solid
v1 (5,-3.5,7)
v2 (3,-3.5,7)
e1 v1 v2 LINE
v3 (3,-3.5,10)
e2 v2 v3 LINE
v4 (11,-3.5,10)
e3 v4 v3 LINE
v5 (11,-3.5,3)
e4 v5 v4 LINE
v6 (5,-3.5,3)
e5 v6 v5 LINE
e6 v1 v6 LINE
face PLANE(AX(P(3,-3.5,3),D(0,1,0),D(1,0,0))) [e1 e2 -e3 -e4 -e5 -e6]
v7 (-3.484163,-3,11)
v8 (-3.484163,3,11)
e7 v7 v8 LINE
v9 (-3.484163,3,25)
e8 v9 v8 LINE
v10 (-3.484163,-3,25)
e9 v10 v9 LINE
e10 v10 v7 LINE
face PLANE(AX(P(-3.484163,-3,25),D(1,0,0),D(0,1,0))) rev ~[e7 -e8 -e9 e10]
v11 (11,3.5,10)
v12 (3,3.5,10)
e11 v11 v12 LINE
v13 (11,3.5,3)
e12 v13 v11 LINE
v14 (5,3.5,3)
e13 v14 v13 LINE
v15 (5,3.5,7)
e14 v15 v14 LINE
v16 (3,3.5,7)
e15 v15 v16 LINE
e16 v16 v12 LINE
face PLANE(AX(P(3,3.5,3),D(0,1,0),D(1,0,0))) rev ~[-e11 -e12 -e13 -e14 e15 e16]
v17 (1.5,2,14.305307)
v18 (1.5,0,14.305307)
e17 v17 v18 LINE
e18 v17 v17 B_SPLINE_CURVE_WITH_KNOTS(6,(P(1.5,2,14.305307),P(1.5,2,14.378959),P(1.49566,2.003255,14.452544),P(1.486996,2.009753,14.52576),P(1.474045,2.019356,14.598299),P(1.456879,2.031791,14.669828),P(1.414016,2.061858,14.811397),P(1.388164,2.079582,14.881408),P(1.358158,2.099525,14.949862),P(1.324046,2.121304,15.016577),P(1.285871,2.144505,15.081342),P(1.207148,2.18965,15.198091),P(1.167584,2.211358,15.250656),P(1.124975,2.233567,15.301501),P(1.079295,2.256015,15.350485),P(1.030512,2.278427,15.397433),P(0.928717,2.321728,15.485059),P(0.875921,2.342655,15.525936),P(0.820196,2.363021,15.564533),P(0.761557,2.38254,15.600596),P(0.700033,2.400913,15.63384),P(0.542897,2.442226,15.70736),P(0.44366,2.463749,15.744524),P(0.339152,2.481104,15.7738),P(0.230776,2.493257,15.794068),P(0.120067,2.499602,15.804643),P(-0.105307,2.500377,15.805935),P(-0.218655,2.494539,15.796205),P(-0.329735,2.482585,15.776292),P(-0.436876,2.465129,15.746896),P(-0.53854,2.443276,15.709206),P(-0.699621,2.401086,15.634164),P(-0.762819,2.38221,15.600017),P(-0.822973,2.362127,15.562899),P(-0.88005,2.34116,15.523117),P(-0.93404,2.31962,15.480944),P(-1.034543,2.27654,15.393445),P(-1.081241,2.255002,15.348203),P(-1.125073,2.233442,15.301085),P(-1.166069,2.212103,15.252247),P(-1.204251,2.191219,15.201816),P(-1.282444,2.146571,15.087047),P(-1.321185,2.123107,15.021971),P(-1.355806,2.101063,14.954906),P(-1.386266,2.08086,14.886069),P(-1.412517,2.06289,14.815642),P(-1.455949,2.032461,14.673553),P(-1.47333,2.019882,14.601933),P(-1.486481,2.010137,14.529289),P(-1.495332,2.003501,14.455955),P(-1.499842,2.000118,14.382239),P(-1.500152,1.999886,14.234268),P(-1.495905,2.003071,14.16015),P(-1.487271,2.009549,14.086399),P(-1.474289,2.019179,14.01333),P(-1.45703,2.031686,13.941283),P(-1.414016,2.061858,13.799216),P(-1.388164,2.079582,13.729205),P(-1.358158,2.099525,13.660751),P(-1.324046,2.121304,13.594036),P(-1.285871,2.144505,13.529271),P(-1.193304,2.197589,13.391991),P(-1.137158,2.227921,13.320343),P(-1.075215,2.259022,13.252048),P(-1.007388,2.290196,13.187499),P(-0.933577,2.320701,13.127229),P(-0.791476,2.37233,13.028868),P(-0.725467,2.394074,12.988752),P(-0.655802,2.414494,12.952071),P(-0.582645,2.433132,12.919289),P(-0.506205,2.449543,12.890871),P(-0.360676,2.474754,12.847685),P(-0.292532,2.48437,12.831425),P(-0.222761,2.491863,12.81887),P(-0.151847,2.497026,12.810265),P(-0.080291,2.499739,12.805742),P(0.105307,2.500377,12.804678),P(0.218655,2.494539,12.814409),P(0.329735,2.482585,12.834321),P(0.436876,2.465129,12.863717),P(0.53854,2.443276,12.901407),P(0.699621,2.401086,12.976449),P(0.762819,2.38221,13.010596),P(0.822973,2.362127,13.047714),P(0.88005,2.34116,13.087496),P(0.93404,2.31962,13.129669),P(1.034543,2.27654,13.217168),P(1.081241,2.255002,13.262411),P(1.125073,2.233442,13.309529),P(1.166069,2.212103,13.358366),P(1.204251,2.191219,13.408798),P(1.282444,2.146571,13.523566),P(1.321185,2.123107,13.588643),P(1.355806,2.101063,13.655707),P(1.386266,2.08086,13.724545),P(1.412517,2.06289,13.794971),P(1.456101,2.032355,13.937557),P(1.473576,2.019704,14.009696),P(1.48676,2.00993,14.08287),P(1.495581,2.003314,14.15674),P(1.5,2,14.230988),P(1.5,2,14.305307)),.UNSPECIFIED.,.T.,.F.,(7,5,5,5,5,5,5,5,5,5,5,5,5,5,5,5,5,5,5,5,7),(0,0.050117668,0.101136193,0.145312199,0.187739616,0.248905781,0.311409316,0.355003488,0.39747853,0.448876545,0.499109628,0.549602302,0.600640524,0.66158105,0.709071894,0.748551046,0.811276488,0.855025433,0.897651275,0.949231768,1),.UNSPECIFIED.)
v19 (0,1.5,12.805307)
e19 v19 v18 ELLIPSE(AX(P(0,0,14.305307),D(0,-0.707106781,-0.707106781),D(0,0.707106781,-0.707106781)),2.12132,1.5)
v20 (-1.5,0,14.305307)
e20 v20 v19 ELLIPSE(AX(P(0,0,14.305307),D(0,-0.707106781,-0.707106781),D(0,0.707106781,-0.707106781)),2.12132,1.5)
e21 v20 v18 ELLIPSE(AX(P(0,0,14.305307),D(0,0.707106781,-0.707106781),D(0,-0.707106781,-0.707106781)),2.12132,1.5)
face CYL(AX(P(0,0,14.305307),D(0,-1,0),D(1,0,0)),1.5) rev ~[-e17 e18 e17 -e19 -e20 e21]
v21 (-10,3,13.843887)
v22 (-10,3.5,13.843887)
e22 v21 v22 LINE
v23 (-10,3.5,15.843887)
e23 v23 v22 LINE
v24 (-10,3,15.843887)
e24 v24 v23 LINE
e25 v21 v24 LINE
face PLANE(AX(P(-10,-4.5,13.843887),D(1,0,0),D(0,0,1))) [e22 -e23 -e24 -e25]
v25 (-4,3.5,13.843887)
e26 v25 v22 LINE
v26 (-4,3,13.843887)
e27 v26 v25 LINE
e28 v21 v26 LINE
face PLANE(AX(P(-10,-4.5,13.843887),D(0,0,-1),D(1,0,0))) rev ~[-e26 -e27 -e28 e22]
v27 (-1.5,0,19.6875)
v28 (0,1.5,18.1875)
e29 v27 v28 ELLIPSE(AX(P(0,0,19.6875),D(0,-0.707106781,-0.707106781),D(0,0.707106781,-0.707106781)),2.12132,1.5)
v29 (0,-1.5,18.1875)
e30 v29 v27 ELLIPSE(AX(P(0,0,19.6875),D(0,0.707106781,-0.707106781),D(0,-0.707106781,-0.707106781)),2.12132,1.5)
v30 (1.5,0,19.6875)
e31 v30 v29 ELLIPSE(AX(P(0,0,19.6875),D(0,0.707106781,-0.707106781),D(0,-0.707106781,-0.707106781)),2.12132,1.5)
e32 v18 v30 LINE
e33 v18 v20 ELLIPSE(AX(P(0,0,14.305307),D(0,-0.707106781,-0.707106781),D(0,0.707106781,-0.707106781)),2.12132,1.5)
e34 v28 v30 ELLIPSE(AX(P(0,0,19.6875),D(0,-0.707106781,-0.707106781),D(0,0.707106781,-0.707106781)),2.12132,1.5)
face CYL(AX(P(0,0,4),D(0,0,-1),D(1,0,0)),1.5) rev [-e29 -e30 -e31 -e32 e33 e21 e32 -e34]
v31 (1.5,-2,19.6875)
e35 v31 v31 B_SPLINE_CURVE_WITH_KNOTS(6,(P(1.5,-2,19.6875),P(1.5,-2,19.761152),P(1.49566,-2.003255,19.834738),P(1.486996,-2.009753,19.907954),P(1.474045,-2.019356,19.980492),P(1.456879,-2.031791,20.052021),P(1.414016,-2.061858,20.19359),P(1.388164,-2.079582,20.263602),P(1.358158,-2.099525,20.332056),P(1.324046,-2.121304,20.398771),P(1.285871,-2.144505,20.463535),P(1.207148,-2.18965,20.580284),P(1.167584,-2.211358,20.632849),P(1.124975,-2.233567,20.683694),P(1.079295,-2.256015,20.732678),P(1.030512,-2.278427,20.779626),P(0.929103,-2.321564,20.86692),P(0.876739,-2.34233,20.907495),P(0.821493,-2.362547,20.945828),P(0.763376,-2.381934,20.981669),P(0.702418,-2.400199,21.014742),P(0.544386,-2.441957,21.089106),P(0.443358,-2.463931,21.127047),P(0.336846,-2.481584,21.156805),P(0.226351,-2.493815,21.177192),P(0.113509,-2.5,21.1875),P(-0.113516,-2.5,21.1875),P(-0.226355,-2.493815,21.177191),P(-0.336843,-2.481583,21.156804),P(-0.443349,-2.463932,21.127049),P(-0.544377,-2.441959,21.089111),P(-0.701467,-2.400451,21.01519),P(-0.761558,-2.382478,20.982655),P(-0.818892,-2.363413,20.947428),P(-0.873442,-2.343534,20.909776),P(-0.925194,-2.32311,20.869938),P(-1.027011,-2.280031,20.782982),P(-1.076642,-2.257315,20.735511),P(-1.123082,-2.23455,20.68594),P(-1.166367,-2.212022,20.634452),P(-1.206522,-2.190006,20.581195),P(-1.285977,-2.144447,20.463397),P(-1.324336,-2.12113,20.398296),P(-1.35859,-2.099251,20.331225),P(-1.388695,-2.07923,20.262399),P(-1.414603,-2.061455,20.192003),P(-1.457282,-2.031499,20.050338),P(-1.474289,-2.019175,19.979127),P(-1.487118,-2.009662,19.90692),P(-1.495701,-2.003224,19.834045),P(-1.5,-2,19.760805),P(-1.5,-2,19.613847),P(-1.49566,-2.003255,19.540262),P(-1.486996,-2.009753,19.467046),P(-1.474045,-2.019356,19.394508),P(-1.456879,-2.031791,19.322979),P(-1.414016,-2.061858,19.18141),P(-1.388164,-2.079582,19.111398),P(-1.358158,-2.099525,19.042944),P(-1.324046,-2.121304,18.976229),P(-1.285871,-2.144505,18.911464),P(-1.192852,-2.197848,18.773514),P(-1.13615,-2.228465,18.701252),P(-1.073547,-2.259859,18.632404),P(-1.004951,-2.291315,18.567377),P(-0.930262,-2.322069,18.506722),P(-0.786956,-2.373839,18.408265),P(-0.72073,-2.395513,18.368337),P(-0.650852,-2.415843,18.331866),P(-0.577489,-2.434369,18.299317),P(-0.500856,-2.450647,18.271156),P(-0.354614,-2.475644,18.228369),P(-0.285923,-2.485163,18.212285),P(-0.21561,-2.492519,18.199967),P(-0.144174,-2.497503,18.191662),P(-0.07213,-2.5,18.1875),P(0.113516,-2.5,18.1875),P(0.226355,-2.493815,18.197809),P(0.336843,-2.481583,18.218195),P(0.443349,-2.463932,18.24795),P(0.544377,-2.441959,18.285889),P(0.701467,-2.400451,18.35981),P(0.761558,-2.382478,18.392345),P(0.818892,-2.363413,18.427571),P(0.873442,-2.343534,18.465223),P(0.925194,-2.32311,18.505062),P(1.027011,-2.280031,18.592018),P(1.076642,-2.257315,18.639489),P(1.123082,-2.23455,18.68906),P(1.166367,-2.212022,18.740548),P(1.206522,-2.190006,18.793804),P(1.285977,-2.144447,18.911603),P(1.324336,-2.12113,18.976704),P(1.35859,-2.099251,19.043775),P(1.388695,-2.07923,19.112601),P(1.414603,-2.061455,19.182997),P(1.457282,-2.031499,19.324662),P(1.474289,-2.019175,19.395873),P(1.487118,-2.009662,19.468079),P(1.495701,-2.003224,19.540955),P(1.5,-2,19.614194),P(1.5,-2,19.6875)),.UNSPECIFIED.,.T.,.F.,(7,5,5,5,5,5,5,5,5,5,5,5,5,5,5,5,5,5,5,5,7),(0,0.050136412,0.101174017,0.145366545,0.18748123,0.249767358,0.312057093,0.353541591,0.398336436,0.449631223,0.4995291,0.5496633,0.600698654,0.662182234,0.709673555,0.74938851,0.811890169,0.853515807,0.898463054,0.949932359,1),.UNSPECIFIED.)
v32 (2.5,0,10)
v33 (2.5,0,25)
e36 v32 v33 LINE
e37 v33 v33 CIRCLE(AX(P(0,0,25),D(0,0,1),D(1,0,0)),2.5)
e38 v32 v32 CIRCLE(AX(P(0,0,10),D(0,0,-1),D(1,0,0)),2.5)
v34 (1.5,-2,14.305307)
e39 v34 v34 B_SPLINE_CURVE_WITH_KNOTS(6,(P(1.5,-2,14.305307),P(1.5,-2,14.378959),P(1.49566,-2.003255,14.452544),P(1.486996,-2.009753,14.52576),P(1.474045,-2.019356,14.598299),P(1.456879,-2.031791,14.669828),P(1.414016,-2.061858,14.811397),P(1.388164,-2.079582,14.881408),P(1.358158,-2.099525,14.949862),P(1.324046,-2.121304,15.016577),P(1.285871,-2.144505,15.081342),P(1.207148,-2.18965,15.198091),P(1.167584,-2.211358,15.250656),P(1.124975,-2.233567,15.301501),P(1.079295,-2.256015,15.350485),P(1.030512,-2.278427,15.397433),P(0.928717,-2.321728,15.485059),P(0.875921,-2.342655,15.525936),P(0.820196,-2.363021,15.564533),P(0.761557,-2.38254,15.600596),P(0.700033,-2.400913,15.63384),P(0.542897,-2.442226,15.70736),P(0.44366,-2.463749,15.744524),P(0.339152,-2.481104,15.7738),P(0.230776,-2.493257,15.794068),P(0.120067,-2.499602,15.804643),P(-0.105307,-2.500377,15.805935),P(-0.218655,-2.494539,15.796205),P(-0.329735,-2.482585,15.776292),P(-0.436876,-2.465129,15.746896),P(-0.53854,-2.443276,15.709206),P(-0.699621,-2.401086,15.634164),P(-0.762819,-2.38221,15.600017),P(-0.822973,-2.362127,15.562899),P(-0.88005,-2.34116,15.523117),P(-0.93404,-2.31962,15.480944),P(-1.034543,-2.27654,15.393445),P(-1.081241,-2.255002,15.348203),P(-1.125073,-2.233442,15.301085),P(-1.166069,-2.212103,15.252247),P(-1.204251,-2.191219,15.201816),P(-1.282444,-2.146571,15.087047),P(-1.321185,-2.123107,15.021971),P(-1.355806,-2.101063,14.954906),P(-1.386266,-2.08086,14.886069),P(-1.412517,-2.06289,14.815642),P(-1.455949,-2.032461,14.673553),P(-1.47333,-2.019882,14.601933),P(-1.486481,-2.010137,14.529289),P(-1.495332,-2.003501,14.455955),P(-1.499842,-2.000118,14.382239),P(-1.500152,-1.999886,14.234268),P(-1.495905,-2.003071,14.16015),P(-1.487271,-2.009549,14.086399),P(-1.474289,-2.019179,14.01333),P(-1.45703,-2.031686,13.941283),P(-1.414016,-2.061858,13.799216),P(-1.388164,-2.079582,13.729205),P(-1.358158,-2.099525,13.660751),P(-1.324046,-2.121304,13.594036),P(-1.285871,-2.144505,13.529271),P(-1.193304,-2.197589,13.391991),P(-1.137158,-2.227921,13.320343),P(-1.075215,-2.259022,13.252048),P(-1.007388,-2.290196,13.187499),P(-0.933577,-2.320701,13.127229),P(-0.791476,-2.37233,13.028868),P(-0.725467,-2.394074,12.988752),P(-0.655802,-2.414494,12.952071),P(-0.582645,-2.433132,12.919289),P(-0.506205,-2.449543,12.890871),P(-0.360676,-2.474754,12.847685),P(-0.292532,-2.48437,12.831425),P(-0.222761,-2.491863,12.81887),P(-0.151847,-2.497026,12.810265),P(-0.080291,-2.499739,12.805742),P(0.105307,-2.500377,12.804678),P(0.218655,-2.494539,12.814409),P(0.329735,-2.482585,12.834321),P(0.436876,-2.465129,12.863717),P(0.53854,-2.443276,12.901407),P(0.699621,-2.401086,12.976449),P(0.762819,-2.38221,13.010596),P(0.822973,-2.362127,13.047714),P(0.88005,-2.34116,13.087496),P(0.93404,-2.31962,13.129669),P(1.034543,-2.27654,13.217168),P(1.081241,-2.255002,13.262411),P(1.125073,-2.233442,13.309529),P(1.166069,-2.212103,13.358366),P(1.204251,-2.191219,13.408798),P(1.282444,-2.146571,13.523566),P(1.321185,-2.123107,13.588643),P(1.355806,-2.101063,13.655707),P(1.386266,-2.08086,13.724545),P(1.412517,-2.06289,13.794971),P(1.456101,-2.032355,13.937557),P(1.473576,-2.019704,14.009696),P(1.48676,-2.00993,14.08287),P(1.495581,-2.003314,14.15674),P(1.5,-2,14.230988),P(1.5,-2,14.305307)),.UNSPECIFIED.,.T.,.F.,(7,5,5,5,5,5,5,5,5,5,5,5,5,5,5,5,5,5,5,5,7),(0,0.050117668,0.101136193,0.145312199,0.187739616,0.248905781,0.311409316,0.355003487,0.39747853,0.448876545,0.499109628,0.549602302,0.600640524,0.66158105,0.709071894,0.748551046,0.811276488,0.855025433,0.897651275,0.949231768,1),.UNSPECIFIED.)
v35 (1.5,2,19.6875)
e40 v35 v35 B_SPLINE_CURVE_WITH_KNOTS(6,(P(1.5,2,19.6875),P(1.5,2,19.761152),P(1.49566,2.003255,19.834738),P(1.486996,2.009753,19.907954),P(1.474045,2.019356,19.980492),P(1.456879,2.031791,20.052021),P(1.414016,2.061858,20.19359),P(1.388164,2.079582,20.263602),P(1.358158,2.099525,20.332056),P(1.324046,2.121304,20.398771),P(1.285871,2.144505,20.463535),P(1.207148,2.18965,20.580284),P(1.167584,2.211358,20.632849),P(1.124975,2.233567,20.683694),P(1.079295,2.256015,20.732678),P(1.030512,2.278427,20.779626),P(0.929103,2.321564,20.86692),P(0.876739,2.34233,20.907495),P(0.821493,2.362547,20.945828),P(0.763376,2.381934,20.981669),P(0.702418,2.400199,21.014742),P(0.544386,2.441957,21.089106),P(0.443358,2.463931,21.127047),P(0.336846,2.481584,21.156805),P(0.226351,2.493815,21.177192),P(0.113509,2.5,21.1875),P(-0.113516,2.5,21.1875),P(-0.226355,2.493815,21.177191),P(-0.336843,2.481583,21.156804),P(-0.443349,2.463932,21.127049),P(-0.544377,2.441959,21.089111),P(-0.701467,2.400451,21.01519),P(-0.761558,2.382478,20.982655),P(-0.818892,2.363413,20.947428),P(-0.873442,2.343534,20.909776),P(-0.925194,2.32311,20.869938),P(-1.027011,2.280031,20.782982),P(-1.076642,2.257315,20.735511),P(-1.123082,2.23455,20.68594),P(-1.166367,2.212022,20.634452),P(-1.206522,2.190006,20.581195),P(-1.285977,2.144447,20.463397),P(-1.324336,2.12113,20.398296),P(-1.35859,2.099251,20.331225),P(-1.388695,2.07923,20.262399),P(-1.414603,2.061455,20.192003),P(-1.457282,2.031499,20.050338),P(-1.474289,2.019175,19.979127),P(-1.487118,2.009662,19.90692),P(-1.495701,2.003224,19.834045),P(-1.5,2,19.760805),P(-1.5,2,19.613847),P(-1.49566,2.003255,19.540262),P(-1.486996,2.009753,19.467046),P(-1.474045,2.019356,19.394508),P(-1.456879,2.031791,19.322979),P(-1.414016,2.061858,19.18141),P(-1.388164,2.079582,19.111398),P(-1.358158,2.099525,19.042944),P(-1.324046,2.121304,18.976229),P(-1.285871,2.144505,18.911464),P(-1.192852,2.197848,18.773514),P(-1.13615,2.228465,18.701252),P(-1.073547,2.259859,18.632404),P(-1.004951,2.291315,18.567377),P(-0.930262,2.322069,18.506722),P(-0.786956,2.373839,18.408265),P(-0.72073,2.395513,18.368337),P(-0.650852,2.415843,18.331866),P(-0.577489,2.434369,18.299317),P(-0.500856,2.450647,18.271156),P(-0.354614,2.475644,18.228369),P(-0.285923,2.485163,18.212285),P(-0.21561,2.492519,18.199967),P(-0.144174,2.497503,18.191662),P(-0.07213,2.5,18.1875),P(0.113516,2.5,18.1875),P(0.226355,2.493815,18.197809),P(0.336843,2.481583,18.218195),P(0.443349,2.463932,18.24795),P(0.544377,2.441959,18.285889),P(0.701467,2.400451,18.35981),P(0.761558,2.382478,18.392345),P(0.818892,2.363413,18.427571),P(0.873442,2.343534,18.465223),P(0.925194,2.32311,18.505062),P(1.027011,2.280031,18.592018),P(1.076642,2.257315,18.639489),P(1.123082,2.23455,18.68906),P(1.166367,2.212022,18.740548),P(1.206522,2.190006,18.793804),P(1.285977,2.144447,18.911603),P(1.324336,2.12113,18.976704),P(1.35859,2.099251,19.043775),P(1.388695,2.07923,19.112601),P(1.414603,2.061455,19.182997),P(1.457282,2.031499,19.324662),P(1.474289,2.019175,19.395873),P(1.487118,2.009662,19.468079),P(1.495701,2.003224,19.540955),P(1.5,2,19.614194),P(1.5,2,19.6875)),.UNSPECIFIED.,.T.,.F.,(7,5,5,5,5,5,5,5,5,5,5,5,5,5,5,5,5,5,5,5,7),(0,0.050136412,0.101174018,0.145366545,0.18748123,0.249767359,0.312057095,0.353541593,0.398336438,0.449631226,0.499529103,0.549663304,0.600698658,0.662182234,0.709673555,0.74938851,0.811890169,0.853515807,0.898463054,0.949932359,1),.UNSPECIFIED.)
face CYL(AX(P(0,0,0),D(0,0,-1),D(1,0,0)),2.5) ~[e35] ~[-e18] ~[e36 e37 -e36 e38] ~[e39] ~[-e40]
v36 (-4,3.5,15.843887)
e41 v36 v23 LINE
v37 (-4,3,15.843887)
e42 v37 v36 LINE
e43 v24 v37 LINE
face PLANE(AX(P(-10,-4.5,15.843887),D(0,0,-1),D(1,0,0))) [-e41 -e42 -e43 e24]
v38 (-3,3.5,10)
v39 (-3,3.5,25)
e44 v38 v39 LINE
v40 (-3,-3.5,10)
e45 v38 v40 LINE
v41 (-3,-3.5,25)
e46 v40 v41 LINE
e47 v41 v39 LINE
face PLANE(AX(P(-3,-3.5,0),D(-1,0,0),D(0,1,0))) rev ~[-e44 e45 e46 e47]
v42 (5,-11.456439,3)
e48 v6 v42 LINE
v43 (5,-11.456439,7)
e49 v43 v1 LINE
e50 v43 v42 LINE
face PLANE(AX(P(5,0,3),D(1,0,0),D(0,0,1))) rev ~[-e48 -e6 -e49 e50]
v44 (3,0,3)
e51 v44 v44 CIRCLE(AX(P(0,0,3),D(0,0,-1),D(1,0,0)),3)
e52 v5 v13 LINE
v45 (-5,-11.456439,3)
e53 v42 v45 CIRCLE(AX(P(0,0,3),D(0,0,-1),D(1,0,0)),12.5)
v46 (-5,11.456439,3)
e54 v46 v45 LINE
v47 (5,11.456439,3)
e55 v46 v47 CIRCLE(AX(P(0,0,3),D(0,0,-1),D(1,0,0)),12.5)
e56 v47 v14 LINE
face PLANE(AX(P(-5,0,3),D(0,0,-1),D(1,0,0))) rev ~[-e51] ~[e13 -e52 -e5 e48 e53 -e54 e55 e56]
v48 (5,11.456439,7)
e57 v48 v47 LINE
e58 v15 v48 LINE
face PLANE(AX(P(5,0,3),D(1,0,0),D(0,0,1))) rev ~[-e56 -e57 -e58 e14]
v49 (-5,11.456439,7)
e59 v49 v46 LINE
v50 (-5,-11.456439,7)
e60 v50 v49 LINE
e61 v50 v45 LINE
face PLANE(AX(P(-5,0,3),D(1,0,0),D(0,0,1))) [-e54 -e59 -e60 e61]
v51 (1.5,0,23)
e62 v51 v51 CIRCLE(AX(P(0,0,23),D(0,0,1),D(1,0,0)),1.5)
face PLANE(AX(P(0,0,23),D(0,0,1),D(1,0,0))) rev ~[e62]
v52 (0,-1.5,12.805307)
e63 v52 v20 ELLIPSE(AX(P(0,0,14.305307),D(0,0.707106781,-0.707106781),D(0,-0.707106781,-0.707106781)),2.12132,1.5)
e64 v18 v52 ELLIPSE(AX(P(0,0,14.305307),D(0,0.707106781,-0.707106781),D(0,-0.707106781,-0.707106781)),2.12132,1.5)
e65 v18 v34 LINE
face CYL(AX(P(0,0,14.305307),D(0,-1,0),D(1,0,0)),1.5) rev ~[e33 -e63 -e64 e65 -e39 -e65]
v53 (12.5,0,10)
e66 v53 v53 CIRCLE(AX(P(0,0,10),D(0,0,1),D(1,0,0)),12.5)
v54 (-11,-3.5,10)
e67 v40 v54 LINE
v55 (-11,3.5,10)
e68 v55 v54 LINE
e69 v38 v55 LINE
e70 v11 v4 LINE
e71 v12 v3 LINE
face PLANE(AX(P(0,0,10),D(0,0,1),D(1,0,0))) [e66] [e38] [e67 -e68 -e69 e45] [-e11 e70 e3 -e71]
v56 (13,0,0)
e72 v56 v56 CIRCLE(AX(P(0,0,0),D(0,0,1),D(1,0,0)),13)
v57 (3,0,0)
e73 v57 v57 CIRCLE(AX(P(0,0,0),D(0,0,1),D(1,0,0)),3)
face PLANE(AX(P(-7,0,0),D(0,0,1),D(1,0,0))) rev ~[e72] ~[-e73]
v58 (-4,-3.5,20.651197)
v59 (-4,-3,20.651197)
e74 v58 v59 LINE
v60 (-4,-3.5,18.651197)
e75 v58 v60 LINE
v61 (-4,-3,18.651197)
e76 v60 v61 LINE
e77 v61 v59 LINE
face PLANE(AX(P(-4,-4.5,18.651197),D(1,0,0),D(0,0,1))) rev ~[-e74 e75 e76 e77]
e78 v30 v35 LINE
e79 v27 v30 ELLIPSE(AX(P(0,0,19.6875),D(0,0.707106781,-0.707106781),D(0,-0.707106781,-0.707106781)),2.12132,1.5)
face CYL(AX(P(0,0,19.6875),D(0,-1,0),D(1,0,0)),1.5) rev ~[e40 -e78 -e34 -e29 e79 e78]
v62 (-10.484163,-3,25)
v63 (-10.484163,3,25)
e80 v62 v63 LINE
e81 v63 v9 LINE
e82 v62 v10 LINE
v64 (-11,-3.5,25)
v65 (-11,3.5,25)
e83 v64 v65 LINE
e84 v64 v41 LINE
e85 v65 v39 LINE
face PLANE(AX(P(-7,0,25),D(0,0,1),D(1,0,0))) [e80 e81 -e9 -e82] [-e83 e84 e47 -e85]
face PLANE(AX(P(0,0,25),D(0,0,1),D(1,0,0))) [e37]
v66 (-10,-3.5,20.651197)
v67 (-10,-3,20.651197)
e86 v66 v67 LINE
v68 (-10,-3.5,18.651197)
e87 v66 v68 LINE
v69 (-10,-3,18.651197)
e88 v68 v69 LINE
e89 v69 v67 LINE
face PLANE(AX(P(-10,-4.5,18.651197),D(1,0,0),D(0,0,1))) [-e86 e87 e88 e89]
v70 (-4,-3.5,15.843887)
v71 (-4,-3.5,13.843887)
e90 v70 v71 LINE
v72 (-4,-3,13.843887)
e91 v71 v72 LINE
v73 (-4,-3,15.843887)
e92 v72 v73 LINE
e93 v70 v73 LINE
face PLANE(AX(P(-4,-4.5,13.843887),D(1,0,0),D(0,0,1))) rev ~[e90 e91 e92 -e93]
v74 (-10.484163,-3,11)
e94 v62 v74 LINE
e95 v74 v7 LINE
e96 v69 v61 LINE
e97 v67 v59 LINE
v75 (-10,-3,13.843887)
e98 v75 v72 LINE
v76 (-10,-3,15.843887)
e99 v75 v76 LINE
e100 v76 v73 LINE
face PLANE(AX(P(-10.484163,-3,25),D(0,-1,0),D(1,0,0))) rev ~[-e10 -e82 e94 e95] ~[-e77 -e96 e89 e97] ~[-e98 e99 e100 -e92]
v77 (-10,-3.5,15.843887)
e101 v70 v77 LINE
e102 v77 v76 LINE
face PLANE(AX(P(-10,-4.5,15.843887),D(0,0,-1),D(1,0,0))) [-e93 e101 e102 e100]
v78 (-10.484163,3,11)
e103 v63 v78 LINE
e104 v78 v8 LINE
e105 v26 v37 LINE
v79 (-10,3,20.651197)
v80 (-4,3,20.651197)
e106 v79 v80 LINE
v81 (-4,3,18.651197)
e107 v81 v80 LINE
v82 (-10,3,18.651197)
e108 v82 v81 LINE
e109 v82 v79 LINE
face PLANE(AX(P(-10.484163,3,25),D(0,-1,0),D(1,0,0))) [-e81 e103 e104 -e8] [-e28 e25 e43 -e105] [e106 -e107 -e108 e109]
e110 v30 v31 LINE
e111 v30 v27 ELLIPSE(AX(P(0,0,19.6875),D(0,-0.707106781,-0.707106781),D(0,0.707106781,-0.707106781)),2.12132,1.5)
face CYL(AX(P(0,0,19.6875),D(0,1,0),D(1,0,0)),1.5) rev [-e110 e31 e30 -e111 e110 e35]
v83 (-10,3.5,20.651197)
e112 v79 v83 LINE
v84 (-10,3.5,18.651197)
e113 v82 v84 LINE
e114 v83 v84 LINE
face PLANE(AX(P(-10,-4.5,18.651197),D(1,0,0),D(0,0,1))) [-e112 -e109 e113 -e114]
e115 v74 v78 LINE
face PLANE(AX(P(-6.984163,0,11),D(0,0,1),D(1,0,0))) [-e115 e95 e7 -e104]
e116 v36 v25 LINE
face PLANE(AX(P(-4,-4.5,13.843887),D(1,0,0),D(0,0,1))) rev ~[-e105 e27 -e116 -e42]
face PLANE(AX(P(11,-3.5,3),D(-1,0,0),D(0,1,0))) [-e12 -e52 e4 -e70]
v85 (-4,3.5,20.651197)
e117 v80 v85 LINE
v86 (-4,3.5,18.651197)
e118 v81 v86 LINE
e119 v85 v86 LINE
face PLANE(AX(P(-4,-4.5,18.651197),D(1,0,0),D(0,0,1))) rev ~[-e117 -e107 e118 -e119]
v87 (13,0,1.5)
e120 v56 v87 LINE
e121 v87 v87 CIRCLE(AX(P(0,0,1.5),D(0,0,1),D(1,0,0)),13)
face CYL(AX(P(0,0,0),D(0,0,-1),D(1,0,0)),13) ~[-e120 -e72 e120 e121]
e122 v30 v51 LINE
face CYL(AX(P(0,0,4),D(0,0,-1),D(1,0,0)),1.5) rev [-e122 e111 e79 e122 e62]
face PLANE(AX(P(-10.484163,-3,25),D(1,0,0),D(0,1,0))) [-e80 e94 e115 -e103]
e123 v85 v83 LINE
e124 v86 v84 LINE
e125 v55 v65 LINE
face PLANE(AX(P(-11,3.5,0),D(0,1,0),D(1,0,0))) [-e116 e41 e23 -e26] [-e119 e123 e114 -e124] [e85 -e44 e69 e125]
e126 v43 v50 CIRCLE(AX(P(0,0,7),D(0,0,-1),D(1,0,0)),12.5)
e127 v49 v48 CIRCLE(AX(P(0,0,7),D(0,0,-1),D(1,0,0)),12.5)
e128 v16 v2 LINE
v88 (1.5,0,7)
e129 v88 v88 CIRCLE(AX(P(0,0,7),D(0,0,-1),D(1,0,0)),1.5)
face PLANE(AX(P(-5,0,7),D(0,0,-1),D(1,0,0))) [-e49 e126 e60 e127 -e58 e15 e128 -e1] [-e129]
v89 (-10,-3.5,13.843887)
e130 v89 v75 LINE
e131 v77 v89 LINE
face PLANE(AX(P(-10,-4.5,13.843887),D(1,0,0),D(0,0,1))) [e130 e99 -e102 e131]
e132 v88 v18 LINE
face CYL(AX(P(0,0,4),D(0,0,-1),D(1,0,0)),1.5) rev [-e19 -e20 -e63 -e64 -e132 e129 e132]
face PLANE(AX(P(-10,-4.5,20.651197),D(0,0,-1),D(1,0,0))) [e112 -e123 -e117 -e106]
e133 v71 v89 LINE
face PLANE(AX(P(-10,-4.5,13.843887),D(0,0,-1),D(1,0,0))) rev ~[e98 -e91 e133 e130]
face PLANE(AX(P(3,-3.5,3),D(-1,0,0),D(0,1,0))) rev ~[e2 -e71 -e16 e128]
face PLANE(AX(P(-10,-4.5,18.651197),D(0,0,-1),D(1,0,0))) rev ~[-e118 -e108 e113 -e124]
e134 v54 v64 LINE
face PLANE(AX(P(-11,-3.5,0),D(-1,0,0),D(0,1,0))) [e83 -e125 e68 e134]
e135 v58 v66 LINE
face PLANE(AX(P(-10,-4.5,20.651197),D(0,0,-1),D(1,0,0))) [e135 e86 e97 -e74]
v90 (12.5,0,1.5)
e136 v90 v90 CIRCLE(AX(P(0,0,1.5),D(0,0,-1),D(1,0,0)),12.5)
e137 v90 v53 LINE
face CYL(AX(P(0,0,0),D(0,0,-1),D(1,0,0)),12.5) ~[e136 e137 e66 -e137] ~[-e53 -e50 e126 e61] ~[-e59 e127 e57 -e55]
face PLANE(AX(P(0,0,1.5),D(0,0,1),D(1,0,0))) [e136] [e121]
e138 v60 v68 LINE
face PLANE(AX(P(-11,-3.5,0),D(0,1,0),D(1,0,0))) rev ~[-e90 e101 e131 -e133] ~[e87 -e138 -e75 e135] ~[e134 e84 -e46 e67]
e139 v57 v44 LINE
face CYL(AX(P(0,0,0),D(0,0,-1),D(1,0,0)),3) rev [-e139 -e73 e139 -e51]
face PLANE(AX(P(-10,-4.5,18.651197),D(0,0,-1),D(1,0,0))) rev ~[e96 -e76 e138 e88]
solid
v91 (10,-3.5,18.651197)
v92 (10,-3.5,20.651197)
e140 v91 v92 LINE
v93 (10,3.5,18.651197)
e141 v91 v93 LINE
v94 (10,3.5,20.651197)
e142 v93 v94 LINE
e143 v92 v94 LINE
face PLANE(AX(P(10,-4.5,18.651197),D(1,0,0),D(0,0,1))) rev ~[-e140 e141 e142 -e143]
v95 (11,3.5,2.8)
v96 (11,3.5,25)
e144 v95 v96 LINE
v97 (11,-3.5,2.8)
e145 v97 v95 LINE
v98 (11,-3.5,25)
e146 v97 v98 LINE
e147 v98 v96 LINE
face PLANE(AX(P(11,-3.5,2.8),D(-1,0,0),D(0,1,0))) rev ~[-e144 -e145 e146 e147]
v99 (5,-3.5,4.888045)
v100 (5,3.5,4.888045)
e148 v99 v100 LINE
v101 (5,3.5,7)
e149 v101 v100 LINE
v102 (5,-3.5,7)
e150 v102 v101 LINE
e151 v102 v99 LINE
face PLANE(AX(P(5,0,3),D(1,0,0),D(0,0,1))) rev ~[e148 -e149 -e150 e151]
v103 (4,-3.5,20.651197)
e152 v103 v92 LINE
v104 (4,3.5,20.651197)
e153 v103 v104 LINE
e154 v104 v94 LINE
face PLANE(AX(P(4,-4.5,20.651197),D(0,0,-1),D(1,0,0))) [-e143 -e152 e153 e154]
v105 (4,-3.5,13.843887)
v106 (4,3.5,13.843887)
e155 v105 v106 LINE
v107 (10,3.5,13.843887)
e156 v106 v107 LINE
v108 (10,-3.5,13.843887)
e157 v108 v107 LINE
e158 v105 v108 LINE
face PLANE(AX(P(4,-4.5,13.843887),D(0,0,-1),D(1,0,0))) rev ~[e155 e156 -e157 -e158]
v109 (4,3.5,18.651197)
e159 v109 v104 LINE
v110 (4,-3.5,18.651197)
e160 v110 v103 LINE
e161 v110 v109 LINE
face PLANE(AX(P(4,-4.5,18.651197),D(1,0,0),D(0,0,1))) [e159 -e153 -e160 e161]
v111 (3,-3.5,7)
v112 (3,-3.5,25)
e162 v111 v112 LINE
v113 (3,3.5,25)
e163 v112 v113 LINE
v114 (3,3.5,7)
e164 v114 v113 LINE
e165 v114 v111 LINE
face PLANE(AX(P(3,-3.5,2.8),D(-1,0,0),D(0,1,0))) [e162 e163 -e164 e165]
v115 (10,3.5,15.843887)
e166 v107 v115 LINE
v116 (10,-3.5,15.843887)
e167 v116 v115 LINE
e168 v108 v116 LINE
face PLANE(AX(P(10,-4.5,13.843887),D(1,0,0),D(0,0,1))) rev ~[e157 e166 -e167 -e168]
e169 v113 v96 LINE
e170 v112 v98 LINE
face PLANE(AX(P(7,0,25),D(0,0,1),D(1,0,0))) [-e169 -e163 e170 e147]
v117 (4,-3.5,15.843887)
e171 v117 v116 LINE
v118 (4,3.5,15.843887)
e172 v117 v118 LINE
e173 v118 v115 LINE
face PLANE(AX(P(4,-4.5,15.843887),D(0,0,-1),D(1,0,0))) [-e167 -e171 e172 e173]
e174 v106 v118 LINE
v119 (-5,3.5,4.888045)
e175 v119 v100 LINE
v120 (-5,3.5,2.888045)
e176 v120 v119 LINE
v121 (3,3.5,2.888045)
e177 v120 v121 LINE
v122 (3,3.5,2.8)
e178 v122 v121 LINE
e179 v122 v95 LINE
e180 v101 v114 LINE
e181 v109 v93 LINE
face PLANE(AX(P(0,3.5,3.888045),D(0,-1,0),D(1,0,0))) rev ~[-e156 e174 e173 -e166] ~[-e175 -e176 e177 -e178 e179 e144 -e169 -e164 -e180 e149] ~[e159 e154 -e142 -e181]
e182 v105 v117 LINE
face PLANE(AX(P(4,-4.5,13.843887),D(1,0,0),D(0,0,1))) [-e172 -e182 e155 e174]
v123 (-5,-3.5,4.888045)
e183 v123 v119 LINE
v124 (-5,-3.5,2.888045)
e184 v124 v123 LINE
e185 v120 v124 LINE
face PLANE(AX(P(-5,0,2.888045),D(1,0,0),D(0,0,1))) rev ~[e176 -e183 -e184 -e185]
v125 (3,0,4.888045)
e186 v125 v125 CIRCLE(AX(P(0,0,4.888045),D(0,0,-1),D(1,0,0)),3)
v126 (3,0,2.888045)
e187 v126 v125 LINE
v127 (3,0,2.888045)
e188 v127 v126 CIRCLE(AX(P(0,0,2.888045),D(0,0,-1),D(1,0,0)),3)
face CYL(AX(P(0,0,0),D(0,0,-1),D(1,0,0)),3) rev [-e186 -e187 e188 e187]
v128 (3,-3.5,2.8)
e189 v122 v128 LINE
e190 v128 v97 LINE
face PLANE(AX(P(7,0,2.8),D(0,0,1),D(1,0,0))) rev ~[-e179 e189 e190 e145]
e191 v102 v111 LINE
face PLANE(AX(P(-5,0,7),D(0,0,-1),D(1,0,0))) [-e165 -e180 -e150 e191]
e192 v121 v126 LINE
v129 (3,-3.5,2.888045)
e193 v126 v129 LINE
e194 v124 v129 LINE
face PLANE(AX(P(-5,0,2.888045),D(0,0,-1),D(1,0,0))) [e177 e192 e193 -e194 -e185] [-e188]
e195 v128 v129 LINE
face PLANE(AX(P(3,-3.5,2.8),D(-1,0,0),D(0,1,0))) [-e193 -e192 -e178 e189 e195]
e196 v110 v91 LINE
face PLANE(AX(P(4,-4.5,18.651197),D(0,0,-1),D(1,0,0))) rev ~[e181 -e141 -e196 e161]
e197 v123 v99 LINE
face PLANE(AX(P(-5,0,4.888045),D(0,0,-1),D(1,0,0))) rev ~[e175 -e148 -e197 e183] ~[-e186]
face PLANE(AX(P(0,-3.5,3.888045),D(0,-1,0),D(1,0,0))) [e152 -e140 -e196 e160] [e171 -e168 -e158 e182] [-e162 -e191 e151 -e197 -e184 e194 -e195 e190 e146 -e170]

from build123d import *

# Parameters (mm, degrees)
F0_R      = 13
F2_DEPTH  = 1.5
F1_R      = 12.5
F3_DEPTH  = 10
F4_R      = 2.5
F5_DEPTH  = 25
F7_START  = 4
F6_R      = 1.5
F7_DEPTH  = 19
F8_R      = 1.5
F9_DEPTH  = 5.1
F10_W     = 8
F10_H     = 7
F11_DEPTH = 25
F13_W     = 7
F13_H     = 6
F14_DEPTH = 14
F16_START = 3
F15_W     = 8
F15_H     = 7
F16_DEPTH = 22
F18_START = 2.8
F17_W     = 8
F17_H     = 7
F18_DEPTH = 22.2
F19_W     = 10
F19_H     = 4
F20_DEPTH = 14
F21_W     = 10
F21_H     = 2
F22_DEPTH = 3.5
F23_R     = 3
F24_DEPTH = 5.2
F26_W     = 6
F26_H     = 2
F27_DEPTH = 9


with BuildPart() as f2:
    # F0 (on Top) → F2 (new body)
    with BuildSketch(Plane.XY):
        Circle(F0_R)
    extrude(amount=F2_DEPTH)

    # F1 (on Top) → F3 (join)
    with BuildSketch(Plane.XY):
        Circle(F1_R)
    extrude(amount=F3_DEPTH)

    # F4 (on Top) → F5 (join)
    with BuildSketch(Plane.XY):
        Circle(F4_R)
    extrude(amount=F5_DEPTH)

    # F6 (on Top) → F7 (cut)
    with BuildSketch(Plane.XY.offset(F7_START)):
        Circle(F6_R)
    extrude(amount=F7_DEPTH, mode=Mode.SUBTRACT)

    # F8 (on Front) → F9 (cut, symmetric)
    with BuildSketch(Plane.XZ):
        with Locations((0, 19.687499851)):
            Circle(F8_R)
        with Locations((0, 14.3053065985)):
            Circle(F8_R)
    extrude(amount=F9_DEPTH, both=True, mode=Mode.SUBTRACT)

    # F10 (on Top) → F11 (join)
    with BuildSketch(Plane.XY):
        with Locations((-7, 0)):
            Rectangle(F10_W, F10_H)
    extrude(amount=F11_DEPTH)

    # F13 (on offset) → F14 (cut)
    with BuildSketch(Plane.XY.offset(25)):
        with Locations((-6.9841630757, 0)):
            Rectangle(F13_W, F13_H)
    extrude(amount=-F14_DEPTH, mode=Mode.SUBTRACT)

    # F15 (on Top) → F16 (cut)
    with BuildSketch(Plane.XY.offset(F16_START)):
        with Locations((7, 0)):
            Rectangle(F15_W, F15_H)
    extrude(amount=F16_DEPTH, mode=Mode.SUBTRACT)


with BuildPart() as f18:
    # F17 (on Top) → F18 (new body)
    with BuildSketch(Plane.XY.offset(F18_START)):
        with Locations((7, 0)):
            Rectangle(F17_W, F17_H)
    extrude(amount=F18_DEPTH)


with BuildPart() as f20_tool:
    # F19 (on Front) → F20 (new body, symmetric)
    with BuildSketch(Plane.XZ):
        with Locations((0, 5)):
            Rectangle(F19_W, F19_H)
    extrude(amount=F20_DEPTH, both=True)


with BuildPart() as f2_1:
    add(f2.part)

    # F20: cut by f20_tool
    add(f20_tool.part, mode=Mode.SUBTRACT)


with BuildPart() as f18_1:
    add(f18.part)

    # F20: cut by f20_tool
    add(f20_tool.part, mode=Mode.SUBTRACT)

    # F21 (on Front) → F22 (join, symmetric)
    with BuildSketch(Plane.XZ):
        with Locations((0, 3.8880447391)):
            Rectangle(F21_W, F21_H)
    extrude(amount=F22_DEPTH, both=True)


with BuildPart() as f24_tool:
    # F23 (on Top) → F24 (new body)
    with BuildSketch(Plane.XY):
        Circle(F23_R)
    extrude(amount=F24_DEPTH)


with BuildPart() as f2_2:
    add(f2_1.part)

    # F24: cut by f24_tool
    add(f24_tool.part, mode=Mode.SUBTRACT)


with BuildPart() as f18_2:
    add(f18_1.part)

    # F24: cut by f24_tool
    add(f24_tool.part, mode=Mode.SUBTRACT)


with BuildPart() as f27_tool:
    # F26 (on offset) → F27 (new body)
    with BuildSketch(Plane.XZ.offset(4.5)):
        with Locations((-7, 19.6511967331)):
            Rectangle(F26_W, F26_H)
        with Locations((-7, 14.8438874856)):
            Rectangle(F26_W, F26_H)
        with Locations((7, 19.6511967331)):
            Rectangle(F26_W, F26_H)
        with Locations((7, 14.8438874856)):
            Rectangle(F26_W, F26_H)
    extrude(amount=-F27_DEPTH)


with BuildPart() as f2_3:
    add(f2_2.part)

    # F27: cut by f27_tool
    add(f27_tool.part, mode=Mode.SUBTRACT)


with BuildPart() as f18_3:
    add(f18_2.part)

    # F27: cut by f27_tool
    add(f27_tool.part, mode=Mode.SUBTRACT)


solid = Compound([f2_3.part, f18_3.part])
